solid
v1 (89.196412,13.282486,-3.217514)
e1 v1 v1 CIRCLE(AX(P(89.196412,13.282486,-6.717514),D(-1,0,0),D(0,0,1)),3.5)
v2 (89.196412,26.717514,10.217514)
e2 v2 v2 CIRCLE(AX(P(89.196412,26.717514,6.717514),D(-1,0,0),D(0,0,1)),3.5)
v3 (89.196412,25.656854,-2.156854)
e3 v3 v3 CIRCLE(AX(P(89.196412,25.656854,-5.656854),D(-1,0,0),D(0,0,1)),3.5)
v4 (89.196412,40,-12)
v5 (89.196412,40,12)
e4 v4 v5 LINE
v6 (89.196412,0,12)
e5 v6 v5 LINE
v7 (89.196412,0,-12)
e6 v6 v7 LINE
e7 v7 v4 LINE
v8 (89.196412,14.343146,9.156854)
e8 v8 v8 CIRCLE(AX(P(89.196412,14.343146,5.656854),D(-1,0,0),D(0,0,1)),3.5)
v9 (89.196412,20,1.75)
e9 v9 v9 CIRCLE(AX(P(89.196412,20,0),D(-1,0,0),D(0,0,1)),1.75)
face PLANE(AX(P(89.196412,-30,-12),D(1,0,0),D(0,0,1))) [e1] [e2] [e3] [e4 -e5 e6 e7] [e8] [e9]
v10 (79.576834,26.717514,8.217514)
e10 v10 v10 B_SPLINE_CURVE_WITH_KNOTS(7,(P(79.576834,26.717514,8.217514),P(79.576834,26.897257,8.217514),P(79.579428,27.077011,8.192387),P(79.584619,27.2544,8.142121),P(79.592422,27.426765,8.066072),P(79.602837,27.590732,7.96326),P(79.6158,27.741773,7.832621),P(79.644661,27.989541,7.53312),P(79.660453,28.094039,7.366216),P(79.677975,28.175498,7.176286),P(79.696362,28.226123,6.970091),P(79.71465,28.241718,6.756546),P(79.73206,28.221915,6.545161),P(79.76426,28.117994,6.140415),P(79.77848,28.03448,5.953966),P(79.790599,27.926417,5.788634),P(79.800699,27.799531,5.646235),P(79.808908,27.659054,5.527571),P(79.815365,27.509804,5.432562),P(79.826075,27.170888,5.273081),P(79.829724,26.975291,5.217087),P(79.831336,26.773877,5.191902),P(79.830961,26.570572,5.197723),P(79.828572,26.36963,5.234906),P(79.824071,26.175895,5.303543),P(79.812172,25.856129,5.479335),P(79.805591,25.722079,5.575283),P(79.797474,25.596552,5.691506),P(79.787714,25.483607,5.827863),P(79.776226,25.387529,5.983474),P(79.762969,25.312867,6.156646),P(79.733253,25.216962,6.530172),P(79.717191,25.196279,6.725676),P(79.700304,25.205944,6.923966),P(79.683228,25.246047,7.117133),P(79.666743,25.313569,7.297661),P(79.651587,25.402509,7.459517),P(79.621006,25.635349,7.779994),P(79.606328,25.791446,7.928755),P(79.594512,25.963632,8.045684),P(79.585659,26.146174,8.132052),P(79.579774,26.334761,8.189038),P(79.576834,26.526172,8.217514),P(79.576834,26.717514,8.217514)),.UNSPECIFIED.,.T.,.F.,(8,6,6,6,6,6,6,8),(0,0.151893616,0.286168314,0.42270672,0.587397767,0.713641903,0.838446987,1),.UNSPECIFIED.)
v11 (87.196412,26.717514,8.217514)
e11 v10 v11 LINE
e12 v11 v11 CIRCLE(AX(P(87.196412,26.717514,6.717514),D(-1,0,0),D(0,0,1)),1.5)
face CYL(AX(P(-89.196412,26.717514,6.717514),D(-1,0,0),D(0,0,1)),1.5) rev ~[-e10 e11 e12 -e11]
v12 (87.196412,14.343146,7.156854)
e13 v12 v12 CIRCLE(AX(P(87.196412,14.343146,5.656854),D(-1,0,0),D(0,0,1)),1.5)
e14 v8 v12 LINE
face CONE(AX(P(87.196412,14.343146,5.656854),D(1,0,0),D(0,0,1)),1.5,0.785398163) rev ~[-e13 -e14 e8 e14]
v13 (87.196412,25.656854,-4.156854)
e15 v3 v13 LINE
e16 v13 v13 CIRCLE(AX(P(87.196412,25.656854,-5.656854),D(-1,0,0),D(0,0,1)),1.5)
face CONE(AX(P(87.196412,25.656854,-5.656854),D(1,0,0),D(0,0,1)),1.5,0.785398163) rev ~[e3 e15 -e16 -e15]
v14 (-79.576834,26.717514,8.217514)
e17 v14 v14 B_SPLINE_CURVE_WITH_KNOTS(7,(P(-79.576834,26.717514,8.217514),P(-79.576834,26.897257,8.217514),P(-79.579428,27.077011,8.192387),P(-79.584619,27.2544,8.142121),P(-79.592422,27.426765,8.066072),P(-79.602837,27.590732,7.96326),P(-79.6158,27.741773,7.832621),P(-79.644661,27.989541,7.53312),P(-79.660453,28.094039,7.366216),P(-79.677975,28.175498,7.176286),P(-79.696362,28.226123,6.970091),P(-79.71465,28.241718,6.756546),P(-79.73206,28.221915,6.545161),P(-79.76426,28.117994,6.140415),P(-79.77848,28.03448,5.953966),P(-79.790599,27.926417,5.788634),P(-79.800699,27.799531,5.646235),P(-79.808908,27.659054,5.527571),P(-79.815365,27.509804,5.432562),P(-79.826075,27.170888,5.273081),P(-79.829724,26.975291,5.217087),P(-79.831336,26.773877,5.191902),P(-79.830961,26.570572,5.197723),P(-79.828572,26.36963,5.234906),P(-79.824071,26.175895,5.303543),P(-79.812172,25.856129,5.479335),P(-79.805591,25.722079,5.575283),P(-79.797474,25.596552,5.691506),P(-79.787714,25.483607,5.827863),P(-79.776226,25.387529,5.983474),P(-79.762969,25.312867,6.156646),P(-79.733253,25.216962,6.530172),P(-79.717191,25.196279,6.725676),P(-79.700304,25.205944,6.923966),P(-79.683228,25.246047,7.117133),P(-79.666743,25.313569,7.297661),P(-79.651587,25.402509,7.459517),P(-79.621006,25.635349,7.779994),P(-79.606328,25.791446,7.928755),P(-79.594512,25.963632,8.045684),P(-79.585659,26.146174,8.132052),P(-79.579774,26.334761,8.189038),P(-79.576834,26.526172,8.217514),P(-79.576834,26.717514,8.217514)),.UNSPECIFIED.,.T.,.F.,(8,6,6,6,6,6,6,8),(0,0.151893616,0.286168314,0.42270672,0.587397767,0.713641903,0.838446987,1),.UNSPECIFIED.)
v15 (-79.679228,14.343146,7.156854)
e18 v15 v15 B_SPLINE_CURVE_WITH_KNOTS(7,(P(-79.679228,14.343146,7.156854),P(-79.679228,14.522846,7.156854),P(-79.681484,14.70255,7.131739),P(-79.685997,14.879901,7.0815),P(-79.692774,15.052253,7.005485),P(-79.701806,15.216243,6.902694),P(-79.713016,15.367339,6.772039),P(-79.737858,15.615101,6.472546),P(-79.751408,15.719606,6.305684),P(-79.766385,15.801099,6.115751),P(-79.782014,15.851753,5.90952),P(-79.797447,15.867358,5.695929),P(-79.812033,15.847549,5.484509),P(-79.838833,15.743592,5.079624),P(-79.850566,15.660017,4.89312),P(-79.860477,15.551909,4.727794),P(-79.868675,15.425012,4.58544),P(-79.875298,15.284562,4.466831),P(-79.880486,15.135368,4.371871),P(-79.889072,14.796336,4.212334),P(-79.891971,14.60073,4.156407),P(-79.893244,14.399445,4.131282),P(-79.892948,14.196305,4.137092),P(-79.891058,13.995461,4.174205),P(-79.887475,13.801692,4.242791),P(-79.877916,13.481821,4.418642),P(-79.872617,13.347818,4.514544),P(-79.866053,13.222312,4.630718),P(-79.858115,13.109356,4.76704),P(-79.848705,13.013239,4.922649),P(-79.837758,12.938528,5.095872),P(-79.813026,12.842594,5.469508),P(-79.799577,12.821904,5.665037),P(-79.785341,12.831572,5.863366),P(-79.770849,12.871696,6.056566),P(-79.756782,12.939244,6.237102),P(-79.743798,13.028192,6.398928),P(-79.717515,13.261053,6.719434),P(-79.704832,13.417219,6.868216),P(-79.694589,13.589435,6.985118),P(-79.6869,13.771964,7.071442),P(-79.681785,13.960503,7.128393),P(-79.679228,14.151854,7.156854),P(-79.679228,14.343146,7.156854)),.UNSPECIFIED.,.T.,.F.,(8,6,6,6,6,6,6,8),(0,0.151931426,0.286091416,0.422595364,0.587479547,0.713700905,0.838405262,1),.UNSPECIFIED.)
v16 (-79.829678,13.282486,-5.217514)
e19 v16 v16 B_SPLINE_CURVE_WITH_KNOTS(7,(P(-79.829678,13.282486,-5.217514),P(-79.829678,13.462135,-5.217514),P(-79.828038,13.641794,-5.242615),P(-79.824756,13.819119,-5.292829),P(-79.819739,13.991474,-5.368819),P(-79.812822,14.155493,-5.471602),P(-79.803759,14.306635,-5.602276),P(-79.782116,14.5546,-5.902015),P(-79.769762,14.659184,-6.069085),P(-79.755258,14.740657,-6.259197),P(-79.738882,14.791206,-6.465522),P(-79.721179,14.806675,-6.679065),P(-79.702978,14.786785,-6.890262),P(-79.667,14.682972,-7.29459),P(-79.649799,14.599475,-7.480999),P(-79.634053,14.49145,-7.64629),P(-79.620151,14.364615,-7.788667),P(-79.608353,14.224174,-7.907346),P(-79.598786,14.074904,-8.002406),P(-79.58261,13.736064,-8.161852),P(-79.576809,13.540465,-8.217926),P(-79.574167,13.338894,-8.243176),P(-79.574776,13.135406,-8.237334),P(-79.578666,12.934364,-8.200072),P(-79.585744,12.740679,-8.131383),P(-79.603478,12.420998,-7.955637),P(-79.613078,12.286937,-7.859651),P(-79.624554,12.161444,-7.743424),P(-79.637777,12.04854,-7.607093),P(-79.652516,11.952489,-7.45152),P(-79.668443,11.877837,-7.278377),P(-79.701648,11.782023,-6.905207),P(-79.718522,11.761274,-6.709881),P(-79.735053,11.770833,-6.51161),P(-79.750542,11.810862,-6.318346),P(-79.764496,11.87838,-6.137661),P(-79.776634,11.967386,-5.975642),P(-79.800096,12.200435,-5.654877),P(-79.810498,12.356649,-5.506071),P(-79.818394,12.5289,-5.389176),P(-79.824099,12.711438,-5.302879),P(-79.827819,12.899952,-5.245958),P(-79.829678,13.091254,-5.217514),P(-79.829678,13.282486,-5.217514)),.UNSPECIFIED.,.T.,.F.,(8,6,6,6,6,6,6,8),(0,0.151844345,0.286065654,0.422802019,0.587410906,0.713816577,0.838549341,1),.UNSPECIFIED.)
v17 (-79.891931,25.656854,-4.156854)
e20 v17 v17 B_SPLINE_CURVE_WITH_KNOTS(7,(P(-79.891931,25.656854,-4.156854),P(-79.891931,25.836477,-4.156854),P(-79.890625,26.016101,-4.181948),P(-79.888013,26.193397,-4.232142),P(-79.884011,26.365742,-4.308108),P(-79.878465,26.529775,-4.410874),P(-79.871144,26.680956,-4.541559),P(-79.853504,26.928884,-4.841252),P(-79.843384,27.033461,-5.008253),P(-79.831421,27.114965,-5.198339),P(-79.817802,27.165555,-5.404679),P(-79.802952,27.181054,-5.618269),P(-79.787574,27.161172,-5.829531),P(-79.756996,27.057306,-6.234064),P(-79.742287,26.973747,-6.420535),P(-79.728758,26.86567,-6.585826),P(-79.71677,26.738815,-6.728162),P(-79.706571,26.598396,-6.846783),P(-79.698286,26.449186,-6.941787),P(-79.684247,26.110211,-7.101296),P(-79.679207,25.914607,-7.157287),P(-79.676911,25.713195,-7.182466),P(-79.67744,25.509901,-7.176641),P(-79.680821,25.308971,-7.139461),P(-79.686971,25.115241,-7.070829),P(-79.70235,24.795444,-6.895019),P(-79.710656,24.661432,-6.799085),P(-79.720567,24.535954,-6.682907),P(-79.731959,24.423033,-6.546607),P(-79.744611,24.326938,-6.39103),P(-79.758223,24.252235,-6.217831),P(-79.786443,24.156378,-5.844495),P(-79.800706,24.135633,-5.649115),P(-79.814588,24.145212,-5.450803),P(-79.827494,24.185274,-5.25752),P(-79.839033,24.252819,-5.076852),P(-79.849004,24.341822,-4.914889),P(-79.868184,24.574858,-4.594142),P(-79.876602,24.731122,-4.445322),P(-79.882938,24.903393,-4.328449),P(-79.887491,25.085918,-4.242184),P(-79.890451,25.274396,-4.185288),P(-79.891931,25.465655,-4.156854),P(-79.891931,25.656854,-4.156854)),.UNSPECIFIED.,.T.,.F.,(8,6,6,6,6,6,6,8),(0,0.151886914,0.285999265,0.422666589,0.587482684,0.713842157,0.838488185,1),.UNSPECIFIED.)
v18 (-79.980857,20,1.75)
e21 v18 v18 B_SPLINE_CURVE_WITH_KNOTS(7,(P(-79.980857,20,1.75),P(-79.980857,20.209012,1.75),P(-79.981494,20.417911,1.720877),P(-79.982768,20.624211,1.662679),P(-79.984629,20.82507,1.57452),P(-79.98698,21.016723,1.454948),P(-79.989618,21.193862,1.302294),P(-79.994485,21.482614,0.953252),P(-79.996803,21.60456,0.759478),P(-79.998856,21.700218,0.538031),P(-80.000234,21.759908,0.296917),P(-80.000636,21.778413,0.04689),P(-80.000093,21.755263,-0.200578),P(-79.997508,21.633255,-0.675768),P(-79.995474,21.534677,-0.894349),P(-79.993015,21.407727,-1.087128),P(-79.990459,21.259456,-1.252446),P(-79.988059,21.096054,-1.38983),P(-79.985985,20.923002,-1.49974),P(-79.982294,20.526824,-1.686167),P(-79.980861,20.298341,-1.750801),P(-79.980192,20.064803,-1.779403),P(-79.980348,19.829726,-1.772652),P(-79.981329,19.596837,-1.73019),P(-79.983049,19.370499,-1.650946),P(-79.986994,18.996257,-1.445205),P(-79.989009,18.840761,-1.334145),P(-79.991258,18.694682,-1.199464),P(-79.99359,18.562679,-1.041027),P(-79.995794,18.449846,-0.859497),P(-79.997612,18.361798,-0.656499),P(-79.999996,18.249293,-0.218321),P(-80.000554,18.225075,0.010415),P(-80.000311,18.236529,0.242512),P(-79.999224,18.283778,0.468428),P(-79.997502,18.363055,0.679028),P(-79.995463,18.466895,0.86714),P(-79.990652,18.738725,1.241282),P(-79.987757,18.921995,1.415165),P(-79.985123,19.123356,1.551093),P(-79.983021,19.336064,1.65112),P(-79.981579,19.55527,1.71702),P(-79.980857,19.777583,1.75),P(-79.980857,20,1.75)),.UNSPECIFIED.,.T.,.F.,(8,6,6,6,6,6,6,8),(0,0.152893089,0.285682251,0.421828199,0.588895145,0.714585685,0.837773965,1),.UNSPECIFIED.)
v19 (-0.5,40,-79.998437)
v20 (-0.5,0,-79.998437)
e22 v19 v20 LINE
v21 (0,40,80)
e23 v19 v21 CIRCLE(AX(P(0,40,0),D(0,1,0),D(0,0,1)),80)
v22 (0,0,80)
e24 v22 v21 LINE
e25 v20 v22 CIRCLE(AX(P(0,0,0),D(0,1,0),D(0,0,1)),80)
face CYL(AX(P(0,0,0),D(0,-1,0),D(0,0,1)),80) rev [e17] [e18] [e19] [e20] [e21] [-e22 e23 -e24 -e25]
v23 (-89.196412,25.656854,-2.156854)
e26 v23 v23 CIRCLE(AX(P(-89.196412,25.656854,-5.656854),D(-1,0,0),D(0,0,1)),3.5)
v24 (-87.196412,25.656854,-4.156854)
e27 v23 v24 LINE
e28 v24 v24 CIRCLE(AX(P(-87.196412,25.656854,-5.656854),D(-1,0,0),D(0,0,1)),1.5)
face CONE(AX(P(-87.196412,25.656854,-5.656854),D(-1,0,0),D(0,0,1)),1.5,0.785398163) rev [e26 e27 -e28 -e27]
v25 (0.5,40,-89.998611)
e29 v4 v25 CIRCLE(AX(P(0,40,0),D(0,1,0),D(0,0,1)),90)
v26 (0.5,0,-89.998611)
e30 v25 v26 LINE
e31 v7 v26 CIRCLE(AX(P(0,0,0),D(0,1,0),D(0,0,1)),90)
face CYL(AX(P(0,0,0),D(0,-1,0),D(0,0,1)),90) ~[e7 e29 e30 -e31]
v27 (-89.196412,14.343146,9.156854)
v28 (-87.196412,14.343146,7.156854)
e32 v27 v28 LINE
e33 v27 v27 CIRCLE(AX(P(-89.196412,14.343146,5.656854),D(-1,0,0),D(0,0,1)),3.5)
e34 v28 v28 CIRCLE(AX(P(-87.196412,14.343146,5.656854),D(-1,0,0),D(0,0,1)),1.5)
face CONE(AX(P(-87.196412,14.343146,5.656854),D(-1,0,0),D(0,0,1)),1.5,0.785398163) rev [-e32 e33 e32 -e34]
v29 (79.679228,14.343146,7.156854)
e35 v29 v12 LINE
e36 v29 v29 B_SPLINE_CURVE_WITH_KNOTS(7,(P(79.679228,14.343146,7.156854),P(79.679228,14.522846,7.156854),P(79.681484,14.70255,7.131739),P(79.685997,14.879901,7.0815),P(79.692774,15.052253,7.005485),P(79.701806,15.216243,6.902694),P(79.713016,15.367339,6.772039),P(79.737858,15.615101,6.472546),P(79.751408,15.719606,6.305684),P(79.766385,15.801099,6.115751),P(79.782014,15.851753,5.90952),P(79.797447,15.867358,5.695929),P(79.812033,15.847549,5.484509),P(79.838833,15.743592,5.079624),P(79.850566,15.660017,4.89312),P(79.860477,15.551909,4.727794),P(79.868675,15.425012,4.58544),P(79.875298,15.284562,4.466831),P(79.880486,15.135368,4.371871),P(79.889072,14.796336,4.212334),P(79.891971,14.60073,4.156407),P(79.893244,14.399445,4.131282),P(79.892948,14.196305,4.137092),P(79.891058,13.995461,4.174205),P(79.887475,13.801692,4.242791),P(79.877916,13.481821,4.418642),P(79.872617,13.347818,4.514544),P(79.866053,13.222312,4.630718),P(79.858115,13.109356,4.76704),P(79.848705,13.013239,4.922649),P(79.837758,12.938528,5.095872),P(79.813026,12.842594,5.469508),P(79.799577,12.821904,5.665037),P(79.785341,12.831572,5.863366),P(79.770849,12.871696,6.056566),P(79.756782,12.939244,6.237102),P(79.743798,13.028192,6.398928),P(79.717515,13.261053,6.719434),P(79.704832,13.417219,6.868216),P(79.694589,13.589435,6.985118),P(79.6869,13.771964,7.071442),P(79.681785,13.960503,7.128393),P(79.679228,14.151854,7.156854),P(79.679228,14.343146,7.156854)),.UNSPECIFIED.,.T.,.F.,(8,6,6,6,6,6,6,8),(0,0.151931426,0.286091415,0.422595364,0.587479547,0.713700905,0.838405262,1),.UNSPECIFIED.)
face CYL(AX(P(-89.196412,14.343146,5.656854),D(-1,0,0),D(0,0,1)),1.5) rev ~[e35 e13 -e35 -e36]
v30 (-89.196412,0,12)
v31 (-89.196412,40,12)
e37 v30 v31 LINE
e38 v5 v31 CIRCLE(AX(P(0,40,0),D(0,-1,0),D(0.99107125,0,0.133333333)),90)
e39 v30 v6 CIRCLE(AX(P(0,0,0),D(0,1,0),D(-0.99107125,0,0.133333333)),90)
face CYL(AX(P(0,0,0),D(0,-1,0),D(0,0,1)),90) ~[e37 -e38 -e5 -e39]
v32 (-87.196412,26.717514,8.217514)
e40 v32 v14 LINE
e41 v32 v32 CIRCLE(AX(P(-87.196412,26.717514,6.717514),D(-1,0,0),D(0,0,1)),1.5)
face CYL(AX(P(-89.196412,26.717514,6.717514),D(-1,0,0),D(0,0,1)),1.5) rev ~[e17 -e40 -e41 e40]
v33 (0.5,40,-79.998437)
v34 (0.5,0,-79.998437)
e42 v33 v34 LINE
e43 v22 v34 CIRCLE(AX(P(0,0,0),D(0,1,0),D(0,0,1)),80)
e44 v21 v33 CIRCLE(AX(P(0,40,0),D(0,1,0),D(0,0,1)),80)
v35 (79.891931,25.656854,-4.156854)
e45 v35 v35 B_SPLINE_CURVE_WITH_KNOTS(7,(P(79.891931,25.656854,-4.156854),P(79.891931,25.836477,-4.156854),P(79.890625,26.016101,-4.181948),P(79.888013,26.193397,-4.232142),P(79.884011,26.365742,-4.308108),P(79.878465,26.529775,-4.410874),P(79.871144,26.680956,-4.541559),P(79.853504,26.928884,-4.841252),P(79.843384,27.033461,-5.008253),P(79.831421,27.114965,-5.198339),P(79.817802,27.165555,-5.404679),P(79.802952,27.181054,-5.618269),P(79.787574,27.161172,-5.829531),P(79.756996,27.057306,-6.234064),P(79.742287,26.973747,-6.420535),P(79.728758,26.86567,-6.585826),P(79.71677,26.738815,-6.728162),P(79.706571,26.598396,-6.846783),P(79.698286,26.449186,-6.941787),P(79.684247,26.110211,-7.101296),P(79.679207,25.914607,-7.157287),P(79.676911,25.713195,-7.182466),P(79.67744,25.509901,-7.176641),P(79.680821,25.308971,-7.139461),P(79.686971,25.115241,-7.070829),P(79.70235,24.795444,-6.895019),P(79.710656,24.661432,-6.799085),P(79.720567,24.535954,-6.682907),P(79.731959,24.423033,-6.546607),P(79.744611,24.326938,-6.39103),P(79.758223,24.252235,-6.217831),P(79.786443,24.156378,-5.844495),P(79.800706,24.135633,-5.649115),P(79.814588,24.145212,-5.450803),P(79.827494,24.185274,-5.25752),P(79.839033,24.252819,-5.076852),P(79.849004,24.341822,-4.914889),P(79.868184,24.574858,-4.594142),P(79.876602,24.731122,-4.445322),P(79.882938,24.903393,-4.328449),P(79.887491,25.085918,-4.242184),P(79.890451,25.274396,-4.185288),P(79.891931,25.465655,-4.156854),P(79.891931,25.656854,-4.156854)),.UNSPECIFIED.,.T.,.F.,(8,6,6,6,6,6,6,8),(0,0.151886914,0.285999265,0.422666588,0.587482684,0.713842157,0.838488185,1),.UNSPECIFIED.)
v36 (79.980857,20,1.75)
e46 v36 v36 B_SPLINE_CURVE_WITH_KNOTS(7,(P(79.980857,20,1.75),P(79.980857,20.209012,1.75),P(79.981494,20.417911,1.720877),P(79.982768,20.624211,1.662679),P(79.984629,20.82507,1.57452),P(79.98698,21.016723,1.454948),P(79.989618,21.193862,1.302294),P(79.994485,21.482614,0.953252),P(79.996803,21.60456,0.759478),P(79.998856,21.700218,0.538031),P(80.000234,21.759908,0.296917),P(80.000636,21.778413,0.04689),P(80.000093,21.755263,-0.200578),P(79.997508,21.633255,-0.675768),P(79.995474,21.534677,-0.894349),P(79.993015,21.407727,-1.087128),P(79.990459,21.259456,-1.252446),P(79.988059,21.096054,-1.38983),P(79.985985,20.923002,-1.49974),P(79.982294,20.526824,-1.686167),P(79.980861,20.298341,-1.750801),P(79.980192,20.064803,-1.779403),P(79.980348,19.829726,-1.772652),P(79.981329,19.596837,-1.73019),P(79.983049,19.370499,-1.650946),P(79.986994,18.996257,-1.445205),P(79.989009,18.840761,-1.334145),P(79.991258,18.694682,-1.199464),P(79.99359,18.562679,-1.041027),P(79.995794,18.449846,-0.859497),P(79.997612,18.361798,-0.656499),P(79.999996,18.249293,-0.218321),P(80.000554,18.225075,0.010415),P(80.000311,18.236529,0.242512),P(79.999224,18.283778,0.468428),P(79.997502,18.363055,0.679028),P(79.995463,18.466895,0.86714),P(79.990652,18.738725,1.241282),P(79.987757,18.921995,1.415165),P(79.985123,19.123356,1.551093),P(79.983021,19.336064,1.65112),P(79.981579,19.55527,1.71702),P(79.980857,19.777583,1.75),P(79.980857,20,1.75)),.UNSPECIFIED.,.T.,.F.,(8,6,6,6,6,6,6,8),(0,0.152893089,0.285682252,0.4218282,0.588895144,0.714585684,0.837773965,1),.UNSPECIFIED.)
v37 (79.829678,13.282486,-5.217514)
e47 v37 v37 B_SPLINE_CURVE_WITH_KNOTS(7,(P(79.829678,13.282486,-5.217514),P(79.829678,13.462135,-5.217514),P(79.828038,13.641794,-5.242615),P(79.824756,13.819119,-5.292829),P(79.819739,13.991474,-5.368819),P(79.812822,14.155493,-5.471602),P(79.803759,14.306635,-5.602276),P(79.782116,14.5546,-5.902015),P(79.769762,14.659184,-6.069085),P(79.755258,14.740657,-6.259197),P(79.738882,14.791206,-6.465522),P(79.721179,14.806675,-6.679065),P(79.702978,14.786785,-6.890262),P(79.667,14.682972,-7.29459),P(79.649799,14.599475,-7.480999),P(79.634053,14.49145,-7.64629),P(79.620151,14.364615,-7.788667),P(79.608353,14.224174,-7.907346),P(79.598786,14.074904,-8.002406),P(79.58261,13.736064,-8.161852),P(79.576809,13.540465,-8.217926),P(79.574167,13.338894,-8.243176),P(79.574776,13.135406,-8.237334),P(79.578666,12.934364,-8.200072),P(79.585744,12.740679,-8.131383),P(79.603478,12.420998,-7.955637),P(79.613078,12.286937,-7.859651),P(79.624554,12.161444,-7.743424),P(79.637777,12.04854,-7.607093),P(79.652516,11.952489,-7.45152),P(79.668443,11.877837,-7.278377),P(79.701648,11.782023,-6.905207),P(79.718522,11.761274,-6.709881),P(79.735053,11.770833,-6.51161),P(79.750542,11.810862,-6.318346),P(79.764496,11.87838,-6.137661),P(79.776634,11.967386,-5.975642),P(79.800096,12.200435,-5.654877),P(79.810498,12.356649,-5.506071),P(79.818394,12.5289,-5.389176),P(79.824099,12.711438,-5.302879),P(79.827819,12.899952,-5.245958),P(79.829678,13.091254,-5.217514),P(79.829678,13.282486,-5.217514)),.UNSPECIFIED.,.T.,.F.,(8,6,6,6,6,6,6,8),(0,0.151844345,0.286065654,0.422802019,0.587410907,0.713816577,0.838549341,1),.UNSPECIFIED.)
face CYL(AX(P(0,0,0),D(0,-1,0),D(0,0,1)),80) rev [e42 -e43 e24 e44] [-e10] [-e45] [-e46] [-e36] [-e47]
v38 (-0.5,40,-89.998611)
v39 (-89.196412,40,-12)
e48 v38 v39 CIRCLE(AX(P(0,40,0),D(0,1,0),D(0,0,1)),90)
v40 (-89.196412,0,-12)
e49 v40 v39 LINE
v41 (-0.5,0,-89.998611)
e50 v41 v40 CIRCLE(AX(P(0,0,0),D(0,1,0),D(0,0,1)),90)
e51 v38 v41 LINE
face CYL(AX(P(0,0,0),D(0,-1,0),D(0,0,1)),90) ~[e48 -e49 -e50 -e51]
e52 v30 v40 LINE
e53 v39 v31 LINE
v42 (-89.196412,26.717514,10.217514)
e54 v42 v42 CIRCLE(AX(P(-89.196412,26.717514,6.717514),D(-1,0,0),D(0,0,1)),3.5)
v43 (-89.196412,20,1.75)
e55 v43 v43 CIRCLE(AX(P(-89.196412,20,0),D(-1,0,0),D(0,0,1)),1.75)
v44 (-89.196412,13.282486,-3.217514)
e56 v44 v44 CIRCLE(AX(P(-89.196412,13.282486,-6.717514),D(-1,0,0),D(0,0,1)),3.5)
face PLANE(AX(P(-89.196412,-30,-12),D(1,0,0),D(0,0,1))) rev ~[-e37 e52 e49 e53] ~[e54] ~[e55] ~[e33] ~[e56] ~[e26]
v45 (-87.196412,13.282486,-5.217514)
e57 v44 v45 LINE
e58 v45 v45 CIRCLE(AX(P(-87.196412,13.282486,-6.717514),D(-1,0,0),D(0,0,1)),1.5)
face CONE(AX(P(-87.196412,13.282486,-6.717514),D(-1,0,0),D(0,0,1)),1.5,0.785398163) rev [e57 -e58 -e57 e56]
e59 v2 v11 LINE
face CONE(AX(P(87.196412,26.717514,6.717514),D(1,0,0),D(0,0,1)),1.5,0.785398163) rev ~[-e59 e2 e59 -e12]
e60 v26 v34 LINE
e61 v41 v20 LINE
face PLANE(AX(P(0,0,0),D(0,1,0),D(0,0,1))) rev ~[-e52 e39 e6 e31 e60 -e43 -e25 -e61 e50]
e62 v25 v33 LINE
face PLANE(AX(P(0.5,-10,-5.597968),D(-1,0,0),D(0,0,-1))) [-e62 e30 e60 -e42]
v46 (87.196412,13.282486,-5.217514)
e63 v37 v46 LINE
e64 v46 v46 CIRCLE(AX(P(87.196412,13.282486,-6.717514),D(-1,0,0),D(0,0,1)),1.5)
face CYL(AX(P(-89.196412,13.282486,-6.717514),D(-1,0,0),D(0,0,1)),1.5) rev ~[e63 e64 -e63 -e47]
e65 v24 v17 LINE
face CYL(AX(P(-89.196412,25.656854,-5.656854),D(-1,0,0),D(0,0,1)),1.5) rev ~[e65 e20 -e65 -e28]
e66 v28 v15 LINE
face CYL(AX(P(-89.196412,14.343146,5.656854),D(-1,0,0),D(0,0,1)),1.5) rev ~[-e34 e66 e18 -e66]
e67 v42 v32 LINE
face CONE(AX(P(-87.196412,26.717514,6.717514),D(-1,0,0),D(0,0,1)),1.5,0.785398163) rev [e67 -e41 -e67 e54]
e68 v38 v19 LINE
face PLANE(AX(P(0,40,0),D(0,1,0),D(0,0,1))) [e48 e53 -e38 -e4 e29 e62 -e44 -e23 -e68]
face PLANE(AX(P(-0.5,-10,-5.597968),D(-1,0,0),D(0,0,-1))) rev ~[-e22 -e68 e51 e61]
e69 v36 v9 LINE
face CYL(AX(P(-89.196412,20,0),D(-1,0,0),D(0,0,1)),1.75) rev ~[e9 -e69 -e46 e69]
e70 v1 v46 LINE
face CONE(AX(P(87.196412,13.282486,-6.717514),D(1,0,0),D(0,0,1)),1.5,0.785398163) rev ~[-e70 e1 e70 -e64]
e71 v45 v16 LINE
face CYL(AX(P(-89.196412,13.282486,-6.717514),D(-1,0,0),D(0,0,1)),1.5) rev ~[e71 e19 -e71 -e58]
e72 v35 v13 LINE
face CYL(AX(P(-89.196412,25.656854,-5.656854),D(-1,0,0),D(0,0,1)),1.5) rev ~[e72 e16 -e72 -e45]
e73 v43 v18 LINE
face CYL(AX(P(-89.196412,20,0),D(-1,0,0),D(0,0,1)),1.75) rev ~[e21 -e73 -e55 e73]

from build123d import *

# Parameters (mm, degrees)
SKETCH1_R               = 90
SKETCH1_R_2             = 80
BOSS_EXTRUDE1_DEPTH     = 40
CUT_EXTRUDE1_START      = -70
CUT_EXTRUDE1_DEPTH      = 70
SKETCH3_R               = 1.5
SKETCH3_R_2             = 1.75
CUT_EXTRUDE2_DEPTH      = 212
CHAMFER1_SIZE           = 2
CUT_EXTRUDE4_DEPTH      = 133.875882032
CUT_EXTRUDE4_DEPTH_BACK = 10
SKETCH4_W               = 1
SKETCH4_H               = 86.76850885


with BuildPart() as part:
    # Sketch1 → Boss-Extrude1 (new body)
    with BuildSketch(Plane(origin=(0, 0, 0), x_dir=(1, 0, 0), z_dir=(0, 1, 0))):
        with Locations(Location((0, 0, 0), (0, 0, 270))):
            Circle(SKETCH1_R)
        with Locations(Location((0, 0, 0), (0, 0, 270))):
            Circle(SKETCH1_R_2, mode=Mode.SUBTRACT)
    extrude(amount=BOSS_EXTRUDE1_DEPTH)

    # Sketch2 → Cut-Extrude1 (cut)
    with BuildSketch(Plane(origin=(0, 40, 0), x_dir=(1, 0, 0), z_dir=(0, 1, 0)).offset(CUT_EXTRUDE1_START)):
        with BuildLine():
            Line((-89.196412484, 12), (-89.196412484, -12))
            ThreePointArc((-89.196412484, -12), (-90, 0), (-89.196412484, 12))
        make_face()
        with BuildLine():
            Line((89.196412484, 12), (89.196412484, -12))
            ThreePointArc((89.196412484, -12), (90, 0), (89.196412484, 12))
        make_face()
    extrude(amount=CUT_EXTRUDE1_DEPTH, mode=Mode.SUBTRACT)

    # Sketch3 → Cut-Extrude2 (cut)
    with BuildSketch(Plane.ZY.offset(89.196412484)):
        with Locations((6.717514421, 26.717514421)):
            Circle(SKETCH3_R)
        with Locations((-5.656854249, 25.656854249)):
            Circle(SKETCH3_R)
        with Locations((-6.717514421, 13.282485579)):
            Circle(SKETCH3_R)
        with Locations((5.656854249, 14.343145751)):
            Circle(SKETCH3_R)
        with Locations((0, 20)):
            Circle(SKETCH3_R_2)
    extrude(amount=-CUT_EXTRUDE2_DEPTH, mode=Mode.SUBTRACT)

    # Chamfer1
    chamfer1_edges = [part.edges().sort_by_distance(p)[0] for p in [
        (89.196412484, 13.282485579, -8.217514421),
        (-89.196412484, 13.282485579, -8.217514421),
        (89.196412484, 26.717514421, 5.217514421),
        (-89.196412484, 26.717514421, 5.217514421),
        (89.196412484, 14.343145751, 4.156854249),
        (-89.196412484, 14.343145751, 4.156854249),
        (89.196412484, 25.656854249, -7.156854249),
        (-89.196412484, 25.656854249, -7.156854249),
    ]]
    chamfer(chamfer1_edges, length=CHAMFER1_SIZE)

    # Sketch4 → Cut-Extrude4 (cut, two sides: drawn at the far end of the back side and taken through both)
    with BuildSketch(Plane(origin=(0, 0, 0), x_dir=(1, 0, 0), z_dir=(0, 1, 0)).offset(-CUT_EXTRUDE4_DEPTH_BACK)):
        with Locations((0, 48.982222738)):
            Rectangle(SKETCH4_W, SKETCH4_H)
    extrude(amount=CUT_EXTRUDE4_DEPTH + CUT_EXTRUDE4_DEPTH_BACK, mode=Mode.SUBTRACT)


solid = part.part
